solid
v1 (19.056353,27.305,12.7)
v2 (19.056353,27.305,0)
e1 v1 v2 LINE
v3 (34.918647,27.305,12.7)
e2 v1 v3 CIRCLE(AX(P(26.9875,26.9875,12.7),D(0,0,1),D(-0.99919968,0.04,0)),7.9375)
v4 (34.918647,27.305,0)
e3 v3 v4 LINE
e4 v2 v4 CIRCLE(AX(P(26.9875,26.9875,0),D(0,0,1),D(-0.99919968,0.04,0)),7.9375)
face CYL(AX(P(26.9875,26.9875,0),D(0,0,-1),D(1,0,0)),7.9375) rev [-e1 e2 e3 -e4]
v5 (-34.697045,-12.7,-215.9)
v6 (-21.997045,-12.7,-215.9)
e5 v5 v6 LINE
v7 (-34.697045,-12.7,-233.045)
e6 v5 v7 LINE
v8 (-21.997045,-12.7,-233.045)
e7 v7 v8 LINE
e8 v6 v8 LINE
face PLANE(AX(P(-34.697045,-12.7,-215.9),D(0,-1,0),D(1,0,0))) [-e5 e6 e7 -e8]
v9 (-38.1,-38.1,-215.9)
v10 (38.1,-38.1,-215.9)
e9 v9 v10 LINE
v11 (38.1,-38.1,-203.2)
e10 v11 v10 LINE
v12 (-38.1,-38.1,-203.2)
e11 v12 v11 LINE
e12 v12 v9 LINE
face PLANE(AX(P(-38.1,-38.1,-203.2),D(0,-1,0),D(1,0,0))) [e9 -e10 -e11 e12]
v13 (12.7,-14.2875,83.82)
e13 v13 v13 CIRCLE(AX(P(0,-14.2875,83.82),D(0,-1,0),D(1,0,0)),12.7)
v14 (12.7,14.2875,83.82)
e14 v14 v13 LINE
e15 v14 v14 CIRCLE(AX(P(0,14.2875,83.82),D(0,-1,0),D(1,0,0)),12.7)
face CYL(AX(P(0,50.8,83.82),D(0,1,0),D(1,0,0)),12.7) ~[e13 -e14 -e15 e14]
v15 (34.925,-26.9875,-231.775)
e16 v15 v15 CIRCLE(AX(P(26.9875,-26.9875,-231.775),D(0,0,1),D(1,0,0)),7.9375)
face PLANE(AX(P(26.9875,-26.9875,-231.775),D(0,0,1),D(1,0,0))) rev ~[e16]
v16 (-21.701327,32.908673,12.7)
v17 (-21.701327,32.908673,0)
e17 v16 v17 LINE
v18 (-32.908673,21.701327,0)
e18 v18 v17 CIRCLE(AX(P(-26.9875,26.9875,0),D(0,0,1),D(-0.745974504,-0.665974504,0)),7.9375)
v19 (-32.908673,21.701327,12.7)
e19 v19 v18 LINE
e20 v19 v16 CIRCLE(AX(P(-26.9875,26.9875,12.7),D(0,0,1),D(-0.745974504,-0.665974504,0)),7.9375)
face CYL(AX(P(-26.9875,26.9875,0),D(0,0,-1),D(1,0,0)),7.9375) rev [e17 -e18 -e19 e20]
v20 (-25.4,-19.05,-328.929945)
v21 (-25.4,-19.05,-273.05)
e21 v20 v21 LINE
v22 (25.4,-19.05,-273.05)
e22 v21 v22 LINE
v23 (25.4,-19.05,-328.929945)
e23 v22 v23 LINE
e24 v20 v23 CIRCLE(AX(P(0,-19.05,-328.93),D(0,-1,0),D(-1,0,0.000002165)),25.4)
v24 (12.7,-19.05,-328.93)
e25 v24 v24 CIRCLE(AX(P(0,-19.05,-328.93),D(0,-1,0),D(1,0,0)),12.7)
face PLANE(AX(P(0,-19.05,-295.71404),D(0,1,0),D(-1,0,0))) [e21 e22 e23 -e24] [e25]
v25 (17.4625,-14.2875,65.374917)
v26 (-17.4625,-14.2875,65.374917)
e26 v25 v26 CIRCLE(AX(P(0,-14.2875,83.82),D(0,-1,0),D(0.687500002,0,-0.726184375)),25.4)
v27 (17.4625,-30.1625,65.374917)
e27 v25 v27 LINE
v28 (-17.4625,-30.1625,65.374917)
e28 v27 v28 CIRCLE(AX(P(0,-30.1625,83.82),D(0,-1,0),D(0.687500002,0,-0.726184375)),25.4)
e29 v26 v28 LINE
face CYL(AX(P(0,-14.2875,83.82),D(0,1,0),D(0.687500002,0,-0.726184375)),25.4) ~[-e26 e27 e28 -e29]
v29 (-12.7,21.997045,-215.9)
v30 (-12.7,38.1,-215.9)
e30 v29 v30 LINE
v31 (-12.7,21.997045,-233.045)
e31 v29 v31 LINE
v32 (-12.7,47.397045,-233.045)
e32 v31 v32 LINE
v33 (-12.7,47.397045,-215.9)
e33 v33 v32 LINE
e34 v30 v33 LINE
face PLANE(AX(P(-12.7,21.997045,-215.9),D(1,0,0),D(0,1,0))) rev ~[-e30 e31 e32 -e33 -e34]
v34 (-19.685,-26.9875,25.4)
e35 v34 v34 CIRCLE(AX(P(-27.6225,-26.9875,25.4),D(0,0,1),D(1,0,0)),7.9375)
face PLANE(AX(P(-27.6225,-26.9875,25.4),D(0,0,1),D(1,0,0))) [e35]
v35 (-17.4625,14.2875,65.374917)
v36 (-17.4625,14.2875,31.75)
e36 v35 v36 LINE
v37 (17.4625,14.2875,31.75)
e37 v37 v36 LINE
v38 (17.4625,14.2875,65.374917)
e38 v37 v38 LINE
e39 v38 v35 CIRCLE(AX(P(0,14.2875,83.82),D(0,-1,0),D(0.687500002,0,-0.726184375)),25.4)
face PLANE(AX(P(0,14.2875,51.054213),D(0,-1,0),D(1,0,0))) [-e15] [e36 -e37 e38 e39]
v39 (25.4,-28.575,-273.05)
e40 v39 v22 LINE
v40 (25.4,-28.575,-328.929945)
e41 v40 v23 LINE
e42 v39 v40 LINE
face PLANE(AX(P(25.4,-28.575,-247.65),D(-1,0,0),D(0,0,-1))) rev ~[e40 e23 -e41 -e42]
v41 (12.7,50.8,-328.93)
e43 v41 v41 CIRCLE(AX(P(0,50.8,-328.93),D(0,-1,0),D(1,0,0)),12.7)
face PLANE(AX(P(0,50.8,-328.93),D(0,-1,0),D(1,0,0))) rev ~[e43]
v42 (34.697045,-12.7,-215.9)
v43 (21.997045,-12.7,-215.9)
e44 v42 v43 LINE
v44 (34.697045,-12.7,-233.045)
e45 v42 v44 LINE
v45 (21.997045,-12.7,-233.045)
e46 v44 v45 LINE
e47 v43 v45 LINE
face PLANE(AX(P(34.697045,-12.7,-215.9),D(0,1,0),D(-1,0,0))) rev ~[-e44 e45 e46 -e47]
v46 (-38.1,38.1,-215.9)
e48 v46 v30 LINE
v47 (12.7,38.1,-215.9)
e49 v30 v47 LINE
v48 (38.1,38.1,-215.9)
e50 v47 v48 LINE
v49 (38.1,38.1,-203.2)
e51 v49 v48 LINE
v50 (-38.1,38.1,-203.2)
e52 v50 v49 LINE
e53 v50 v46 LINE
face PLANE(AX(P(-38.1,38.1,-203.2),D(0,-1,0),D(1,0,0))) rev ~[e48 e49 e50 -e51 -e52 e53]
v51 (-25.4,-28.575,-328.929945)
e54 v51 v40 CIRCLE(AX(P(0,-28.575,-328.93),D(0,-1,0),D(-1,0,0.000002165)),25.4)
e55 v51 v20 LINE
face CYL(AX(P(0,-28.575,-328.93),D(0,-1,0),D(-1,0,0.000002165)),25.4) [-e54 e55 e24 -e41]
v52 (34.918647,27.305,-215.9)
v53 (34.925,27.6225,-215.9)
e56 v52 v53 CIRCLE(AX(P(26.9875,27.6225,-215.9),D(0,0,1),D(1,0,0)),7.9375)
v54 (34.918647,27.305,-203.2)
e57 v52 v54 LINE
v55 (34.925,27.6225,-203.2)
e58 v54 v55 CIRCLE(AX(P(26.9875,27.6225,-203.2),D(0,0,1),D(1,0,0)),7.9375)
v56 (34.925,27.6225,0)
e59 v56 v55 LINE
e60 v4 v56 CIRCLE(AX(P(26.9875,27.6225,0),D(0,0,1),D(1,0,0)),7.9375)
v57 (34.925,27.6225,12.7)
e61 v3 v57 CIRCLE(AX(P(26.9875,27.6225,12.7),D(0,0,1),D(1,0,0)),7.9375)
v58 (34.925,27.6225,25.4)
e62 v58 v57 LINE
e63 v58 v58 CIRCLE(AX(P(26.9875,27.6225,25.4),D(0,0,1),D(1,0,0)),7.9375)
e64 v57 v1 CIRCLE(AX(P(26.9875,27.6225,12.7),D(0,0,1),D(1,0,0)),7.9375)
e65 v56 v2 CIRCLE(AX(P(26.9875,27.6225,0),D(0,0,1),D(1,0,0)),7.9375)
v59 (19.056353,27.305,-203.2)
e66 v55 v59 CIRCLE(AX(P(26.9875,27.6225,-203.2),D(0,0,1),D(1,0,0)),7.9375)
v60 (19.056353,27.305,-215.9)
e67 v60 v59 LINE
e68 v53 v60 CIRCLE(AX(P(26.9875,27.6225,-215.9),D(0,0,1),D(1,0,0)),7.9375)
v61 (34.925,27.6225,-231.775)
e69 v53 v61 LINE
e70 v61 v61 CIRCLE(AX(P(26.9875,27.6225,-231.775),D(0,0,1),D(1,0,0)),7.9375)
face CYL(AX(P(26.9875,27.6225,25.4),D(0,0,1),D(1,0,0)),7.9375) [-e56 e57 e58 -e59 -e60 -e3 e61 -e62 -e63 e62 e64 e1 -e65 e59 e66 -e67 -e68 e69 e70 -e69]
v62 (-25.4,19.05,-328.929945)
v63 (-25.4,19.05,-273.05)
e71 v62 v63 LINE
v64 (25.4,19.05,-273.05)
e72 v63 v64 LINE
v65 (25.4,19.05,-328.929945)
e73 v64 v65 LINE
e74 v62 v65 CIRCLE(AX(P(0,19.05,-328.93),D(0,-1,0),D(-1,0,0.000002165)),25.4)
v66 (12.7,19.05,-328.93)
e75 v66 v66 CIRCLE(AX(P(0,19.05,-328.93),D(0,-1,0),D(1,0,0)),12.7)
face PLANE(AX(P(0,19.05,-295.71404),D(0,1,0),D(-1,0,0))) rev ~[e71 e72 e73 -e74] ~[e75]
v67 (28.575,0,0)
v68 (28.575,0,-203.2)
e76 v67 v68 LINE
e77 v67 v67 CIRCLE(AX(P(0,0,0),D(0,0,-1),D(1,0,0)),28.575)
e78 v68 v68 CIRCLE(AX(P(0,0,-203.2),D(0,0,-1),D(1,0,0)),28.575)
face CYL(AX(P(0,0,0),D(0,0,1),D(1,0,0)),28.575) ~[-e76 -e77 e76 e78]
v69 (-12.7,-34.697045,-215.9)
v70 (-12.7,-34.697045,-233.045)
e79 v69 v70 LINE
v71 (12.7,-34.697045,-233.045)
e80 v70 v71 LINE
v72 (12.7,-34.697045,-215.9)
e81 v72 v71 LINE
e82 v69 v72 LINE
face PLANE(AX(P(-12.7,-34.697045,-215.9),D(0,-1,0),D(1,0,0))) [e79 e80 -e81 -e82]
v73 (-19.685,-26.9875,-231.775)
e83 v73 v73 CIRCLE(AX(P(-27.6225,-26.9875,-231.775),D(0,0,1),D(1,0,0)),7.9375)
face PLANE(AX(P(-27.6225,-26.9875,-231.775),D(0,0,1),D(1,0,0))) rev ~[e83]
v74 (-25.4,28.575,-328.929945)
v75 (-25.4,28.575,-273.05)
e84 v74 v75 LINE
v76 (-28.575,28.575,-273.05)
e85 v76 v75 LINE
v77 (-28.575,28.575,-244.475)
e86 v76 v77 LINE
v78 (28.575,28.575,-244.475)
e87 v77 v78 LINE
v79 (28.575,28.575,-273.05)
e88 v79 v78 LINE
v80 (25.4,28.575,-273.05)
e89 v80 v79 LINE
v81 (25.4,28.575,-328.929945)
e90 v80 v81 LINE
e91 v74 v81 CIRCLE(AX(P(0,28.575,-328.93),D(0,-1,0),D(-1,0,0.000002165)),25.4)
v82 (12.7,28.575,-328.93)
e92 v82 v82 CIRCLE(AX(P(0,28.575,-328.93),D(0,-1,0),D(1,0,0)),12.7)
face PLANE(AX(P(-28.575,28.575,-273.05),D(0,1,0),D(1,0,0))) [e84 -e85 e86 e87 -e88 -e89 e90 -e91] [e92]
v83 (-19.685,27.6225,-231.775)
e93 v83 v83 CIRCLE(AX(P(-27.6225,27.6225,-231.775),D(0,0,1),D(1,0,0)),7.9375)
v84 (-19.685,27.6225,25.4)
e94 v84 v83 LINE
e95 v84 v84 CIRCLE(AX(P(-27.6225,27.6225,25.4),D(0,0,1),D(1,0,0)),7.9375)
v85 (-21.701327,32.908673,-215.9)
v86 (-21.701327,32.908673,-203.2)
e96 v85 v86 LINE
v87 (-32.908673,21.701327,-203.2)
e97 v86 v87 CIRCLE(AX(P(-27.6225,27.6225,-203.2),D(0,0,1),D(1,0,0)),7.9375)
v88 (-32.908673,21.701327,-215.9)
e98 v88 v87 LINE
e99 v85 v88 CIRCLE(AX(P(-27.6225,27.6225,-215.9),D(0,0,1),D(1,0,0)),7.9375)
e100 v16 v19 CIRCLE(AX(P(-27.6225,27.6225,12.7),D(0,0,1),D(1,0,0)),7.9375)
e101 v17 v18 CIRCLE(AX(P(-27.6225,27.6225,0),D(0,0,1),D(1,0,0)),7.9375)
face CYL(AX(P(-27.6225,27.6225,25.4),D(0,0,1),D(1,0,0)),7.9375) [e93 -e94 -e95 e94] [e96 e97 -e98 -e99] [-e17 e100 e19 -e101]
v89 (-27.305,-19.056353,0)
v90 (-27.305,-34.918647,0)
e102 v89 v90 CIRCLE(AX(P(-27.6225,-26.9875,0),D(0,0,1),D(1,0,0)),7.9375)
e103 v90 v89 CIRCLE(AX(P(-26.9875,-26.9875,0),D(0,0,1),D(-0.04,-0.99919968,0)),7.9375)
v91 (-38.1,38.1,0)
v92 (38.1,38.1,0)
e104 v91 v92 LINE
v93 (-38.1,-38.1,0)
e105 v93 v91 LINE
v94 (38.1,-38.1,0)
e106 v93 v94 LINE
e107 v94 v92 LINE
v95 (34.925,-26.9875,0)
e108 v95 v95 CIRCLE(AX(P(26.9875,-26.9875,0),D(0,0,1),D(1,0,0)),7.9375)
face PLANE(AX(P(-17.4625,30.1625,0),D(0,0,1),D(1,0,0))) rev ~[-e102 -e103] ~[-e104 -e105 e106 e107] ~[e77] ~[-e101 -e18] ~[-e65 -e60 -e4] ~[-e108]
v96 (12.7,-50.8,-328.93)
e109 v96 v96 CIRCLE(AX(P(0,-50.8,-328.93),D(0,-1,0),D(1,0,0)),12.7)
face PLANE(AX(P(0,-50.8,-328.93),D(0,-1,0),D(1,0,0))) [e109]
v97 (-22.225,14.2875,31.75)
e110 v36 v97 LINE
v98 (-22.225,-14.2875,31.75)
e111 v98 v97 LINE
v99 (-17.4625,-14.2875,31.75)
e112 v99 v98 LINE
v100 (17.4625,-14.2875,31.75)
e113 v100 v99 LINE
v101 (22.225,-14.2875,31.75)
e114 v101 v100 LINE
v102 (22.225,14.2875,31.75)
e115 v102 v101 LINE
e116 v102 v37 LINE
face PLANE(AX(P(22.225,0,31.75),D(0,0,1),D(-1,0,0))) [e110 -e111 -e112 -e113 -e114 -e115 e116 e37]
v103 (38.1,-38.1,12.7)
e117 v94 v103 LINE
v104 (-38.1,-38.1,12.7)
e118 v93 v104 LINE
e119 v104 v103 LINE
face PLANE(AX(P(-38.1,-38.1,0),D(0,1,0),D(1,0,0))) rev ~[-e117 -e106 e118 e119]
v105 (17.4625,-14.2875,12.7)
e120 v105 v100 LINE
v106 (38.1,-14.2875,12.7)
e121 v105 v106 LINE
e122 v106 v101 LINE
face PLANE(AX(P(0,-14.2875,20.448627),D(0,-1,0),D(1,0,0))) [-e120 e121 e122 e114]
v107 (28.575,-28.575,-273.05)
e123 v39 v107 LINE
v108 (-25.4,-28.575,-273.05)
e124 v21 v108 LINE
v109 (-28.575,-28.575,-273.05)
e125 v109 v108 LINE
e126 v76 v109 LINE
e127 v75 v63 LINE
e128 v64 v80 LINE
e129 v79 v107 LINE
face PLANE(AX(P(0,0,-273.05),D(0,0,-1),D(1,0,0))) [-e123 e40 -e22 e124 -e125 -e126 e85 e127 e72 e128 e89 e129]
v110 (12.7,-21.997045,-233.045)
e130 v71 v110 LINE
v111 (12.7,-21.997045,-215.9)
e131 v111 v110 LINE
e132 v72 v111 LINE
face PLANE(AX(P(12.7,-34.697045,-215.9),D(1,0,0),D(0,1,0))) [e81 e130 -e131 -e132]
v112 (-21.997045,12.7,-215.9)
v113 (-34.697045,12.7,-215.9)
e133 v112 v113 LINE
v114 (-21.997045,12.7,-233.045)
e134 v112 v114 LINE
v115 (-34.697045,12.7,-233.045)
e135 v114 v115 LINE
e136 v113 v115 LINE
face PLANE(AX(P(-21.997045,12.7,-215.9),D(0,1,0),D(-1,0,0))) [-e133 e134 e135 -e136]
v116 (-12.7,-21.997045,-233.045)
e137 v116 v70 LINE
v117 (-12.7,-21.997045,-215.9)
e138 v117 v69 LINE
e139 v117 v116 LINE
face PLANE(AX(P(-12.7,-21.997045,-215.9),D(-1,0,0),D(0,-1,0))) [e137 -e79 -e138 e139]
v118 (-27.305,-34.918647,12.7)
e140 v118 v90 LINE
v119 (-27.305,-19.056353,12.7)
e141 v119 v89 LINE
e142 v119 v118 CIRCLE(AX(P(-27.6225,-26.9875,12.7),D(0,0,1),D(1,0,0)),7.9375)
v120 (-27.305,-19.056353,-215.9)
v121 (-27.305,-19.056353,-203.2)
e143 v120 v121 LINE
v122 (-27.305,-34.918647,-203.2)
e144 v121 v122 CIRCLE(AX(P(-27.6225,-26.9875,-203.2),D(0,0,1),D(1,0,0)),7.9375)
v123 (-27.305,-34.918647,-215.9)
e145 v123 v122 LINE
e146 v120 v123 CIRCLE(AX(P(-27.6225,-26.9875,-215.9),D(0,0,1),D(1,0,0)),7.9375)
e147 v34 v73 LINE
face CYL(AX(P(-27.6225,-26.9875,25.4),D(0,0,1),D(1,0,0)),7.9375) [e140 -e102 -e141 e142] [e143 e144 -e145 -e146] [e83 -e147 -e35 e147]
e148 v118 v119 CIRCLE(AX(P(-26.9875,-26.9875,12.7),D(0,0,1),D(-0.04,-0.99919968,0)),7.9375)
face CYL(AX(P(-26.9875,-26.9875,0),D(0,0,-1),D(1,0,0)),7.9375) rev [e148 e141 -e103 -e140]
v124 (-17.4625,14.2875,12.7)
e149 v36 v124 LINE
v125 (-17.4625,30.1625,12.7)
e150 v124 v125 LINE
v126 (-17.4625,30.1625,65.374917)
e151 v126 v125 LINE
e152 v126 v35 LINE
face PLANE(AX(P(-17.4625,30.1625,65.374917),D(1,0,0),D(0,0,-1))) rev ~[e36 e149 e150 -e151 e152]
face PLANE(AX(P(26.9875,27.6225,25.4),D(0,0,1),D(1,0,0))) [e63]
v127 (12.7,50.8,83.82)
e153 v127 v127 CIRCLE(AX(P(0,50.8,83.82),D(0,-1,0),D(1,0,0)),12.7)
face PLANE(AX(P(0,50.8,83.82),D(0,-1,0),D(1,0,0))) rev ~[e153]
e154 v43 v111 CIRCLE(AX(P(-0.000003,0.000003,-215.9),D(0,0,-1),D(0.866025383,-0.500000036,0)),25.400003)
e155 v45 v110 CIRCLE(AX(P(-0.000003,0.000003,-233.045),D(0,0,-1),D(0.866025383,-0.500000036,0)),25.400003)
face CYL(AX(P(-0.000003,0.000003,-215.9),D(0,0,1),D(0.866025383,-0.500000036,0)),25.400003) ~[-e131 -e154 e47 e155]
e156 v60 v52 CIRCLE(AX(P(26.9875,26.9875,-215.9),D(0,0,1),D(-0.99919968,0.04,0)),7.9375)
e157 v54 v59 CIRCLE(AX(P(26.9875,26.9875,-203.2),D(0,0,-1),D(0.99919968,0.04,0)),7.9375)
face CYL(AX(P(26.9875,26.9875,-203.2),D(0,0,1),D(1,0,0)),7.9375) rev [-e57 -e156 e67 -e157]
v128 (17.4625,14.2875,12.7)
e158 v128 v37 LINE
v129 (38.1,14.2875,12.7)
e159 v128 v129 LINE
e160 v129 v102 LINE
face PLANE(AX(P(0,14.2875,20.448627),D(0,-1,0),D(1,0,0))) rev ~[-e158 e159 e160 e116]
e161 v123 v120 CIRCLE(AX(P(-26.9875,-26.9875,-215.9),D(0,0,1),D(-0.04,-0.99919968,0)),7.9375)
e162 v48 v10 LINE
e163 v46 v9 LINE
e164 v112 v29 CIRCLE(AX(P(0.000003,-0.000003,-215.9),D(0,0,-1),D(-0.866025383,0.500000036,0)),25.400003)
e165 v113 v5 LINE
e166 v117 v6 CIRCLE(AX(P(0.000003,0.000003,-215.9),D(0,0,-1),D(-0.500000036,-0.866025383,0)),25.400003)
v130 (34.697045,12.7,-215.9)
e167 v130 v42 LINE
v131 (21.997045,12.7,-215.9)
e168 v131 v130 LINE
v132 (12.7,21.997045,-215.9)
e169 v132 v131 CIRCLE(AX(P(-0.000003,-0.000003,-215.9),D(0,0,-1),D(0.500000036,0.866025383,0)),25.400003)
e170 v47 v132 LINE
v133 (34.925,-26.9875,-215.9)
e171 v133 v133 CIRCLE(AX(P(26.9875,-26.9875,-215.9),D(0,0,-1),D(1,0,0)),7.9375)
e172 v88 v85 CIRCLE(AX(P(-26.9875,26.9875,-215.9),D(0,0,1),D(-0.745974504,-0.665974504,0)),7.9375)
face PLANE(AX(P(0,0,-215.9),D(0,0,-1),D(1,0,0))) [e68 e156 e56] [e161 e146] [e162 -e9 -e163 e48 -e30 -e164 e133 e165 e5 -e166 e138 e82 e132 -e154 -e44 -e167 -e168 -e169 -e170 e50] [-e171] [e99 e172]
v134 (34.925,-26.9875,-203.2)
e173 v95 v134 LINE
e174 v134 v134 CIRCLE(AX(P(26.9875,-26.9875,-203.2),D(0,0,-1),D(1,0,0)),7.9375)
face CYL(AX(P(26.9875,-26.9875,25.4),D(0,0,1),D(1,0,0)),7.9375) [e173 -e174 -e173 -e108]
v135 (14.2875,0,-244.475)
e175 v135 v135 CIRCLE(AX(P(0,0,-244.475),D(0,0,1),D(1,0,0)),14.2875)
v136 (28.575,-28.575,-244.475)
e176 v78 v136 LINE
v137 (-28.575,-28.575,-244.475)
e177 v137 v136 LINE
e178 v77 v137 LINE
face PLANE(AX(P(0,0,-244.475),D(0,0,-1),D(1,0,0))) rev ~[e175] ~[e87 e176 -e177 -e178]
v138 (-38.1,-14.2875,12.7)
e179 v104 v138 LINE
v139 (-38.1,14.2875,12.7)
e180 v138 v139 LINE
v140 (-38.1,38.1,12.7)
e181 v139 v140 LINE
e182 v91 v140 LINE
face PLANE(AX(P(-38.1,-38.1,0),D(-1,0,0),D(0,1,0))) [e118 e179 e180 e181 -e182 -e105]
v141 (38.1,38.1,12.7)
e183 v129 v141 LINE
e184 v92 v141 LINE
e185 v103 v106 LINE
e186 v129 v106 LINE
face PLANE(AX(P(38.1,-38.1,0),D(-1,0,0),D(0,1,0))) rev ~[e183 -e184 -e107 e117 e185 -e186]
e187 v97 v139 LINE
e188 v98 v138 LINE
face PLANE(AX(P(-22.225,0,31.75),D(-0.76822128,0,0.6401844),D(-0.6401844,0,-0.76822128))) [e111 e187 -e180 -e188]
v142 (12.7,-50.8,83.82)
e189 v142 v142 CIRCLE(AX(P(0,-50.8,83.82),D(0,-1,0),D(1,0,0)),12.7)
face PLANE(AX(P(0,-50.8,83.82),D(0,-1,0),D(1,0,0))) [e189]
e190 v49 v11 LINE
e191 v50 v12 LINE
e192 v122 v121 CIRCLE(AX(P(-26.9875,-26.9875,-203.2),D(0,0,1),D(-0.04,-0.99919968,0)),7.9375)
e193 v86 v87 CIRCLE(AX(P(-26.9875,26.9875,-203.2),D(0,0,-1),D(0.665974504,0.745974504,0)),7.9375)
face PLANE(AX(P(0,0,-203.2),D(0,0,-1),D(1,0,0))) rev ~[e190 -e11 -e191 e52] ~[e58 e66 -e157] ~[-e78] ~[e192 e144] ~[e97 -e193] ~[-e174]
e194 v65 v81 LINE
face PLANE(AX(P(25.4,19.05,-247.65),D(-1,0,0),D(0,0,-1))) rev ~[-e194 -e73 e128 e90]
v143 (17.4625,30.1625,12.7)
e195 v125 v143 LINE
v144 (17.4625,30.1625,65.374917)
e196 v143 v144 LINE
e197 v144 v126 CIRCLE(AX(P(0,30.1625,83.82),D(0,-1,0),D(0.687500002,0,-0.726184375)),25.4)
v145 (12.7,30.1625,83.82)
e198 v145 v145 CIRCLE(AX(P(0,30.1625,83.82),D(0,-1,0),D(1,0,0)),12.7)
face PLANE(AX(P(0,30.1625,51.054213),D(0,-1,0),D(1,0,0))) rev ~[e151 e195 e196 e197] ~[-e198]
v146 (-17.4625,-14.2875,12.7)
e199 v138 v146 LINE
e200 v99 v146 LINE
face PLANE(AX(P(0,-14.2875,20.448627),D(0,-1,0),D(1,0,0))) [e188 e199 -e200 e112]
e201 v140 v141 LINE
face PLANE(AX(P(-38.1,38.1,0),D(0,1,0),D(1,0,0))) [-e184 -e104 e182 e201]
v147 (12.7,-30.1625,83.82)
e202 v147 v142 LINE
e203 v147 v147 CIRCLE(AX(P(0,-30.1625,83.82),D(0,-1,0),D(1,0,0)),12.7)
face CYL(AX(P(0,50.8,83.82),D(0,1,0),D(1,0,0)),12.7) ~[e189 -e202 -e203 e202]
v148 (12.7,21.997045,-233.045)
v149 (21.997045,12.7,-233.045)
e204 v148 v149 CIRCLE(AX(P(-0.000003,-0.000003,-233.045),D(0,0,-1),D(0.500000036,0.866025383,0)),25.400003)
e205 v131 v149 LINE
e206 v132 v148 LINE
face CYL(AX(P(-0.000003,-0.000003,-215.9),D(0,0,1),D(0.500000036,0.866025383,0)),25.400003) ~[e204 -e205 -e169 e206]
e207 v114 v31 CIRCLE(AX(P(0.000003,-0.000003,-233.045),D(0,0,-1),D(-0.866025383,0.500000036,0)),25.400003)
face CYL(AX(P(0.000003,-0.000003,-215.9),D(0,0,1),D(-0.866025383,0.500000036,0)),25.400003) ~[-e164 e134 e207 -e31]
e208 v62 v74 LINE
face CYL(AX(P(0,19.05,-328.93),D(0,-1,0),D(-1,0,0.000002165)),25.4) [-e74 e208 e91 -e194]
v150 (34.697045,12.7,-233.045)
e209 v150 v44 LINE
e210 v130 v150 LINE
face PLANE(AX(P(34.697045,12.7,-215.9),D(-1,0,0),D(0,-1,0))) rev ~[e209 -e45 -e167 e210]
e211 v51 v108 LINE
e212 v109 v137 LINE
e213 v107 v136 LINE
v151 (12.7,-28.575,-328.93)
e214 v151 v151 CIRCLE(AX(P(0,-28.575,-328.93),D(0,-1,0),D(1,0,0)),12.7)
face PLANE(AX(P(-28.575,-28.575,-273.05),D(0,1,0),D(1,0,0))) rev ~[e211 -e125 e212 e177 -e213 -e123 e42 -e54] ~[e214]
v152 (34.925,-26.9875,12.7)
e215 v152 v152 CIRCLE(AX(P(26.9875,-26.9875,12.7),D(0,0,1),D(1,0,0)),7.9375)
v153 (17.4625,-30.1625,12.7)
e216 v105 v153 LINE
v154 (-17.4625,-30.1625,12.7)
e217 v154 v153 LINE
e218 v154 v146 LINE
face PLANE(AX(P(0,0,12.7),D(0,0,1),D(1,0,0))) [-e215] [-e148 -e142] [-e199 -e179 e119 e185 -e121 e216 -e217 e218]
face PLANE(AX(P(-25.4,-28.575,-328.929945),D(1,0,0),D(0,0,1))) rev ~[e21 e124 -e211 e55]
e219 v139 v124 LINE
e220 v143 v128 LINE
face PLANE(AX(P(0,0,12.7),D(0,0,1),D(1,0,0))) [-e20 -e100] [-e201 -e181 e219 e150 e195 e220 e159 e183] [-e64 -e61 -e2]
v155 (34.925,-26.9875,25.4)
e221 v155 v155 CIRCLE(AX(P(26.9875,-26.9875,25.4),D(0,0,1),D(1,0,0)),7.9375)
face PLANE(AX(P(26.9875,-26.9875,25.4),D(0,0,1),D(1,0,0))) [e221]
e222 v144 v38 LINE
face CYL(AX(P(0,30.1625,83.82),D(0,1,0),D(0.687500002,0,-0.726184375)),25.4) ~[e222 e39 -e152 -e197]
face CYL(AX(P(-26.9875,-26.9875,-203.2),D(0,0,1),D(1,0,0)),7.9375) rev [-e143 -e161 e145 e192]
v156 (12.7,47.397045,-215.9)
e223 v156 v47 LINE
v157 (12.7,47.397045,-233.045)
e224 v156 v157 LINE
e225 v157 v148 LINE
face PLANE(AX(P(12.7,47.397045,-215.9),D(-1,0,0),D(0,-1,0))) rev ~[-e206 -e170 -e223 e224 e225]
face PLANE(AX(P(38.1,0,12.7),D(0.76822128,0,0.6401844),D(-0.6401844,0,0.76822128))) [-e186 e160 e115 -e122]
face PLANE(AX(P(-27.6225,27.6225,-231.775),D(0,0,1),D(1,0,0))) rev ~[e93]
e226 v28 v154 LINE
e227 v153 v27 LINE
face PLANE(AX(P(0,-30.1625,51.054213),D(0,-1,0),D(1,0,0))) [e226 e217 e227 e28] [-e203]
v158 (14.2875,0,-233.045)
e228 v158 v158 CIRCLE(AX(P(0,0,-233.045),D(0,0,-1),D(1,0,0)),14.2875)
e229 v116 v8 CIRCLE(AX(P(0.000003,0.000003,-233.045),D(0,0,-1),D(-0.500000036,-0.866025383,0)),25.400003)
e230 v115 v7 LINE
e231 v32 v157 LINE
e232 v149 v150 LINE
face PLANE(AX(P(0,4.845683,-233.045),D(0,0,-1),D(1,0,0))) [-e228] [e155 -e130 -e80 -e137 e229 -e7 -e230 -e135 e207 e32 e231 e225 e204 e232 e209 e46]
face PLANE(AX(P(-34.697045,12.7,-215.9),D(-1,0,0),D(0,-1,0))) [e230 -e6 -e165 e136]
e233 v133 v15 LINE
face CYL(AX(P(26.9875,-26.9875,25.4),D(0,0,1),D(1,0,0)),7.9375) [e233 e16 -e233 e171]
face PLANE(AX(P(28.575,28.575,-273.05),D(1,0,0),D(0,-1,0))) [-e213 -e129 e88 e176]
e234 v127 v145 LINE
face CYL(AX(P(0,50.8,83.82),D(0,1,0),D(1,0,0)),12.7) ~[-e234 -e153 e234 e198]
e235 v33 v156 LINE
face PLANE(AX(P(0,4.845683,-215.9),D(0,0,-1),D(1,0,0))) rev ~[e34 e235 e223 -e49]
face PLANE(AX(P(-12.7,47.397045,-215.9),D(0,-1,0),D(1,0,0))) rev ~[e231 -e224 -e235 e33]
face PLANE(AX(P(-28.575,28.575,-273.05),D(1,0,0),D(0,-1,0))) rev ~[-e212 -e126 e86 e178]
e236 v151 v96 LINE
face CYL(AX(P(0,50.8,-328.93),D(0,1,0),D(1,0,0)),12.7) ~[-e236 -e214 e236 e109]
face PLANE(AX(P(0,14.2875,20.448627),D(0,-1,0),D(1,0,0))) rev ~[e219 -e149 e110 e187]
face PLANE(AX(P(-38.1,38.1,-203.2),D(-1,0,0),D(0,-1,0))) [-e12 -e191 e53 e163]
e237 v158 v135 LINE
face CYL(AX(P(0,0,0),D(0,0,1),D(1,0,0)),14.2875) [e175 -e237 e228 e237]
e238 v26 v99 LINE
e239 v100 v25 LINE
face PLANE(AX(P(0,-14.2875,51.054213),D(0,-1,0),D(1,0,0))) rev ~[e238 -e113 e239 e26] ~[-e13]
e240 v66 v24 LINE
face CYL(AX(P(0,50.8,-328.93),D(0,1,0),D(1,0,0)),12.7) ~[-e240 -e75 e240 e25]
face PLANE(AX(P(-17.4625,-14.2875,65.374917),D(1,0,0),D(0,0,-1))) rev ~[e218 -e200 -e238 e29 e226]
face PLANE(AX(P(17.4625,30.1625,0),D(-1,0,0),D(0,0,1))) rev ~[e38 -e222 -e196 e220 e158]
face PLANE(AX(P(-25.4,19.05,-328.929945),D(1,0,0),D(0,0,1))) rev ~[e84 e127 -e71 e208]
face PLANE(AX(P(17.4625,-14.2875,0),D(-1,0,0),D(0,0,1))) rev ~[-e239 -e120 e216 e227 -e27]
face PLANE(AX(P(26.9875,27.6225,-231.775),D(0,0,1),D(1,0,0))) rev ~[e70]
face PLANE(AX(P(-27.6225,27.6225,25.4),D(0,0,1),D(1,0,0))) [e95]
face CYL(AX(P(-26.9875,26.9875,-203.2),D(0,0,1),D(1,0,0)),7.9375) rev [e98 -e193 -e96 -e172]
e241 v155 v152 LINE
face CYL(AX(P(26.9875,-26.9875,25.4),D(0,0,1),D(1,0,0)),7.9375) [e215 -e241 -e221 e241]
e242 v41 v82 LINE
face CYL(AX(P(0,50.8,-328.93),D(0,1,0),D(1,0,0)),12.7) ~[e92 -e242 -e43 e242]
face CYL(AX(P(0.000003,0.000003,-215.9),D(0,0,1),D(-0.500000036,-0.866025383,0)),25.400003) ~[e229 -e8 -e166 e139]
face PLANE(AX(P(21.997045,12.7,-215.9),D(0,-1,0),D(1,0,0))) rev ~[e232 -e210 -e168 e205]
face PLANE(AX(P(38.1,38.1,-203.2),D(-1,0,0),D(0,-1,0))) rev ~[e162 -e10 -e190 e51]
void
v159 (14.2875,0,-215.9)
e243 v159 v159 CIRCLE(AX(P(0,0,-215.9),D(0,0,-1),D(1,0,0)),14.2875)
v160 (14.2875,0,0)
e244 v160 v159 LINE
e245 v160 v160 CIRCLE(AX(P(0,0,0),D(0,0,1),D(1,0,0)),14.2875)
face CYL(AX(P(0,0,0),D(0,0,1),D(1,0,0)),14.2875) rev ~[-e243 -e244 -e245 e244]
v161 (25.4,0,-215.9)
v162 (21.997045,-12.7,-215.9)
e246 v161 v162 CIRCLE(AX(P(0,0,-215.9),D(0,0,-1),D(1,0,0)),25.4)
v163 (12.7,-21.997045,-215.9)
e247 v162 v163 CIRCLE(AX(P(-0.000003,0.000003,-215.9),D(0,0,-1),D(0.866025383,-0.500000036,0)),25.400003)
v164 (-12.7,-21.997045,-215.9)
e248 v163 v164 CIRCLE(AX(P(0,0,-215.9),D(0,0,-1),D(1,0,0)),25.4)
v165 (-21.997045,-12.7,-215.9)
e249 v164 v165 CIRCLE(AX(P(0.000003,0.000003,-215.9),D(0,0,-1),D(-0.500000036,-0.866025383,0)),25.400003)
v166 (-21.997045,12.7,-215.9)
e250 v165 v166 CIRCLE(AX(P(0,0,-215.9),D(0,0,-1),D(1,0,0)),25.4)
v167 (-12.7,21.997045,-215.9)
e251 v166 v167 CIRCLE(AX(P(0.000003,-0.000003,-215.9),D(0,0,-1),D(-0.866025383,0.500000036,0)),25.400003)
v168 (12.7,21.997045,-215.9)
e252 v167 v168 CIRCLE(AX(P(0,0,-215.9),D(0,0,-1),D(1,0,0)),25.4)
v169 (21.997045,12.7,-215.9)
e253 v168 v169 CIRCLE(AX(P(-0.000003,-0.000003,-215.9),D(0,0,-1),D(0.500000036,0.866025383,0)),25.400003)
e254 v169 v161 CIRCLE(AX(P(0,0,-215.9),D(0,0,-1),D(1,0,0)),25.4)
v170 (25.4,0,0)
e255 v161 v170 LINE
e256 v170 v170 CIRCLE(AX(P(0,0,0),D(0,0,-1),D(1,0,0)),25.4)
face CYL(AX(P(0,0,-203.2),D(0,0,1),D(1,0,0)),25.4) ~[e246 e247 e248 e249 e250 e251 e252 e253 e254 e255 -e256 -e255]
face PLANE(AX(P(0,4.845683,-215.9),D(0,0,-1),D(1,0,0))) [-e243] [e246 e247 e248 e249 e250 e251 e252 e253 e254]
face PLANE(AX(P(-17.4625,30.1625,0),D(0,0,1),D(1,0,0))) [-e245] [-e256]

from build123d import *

# Parameters (mm, degrees)
SKETCH006_R            = 14.2875
PAD006_DEPTH           = 273.05
SKETCH007_W            = 57.15
SKETCH007_H            = 57.15
PAD007_DEPTH           = 28.575
SKETCH008_R            = 12.7
PAD008_DEPTH           = 9.525
LINEARPATTERN001_COUNT = 2
LINEARPATTERN001_PITCH = 47.625
SKETCH010_R            = 7.9375
PAD010_DEPTH           = 257.175
ARRAY_X_COUNT          = 2
ARRAY_X_PITCH          = 54.61
ARRAY_Y_COUNT          = 2
ARRAY_Y_PITCH          = 54.61
SKETCH_W               = 76.2
SKETCH_H               = 76.2
SKETCH_R               = 7.9375
PAD_DEPTH              = 12.7
PAD001_DEPTH           = 14.2875
SKETCH002_R            = 12.7
PAD002_DEPTH           = 15.875
LINEARPATTERN_COUNT    = 2
LINEARPATTERN_PITCH    = 44.45
SKETCH003_R            = 28.575
SKETCH003_R_2          = 25.4
PAD003_DEPTH           = 203.2
SKETCH004_W            = 76.2
SKETCH004_H            = 76.2
SKETCH004_R            = 7.9375
SKETCH004_R_2          = 25.4
PAD004_DEPTH           = 12.7
SKETCH005_R            = 14.2875
PAD005_DEPTH           = 17.145
CYLINDER_R             = 12.7
CYLINDER_DEPTH         = 101.6
CYLINDER_ROLL_ANGLE    = 90


with BuildPart() as body001:
    # Sketch006 → Pad006 (new body)
    with BuildSketch(Plane.XY):
        Circle(SKETCH006_R)
    extrude(amount=-PAD006_DEPTH)

    # Sketch007 (on Face3 of Pad006) → Pad007 (join)
    with BuildSketch(Plane(origin=(0, 0, -273.05), x_dir=(1, 0, 0), z_dir=(0, 0, -1))):
        Rectangle(SKETCH007_W, SKETCH007_H)
    extrude(amount=-PAD007_DEPTH)

    # Sketch008 (on Face4 of Pad007) → Pad008 (join)
    with BuildSketch(Plane.XZ.offset(28.575)):
        with BuildLine():
            Line((-25.4, -247.65), (25.4, -247.65))
            Line((25.4, -247.65), (25.4, -328.929945))
            ThreePointArc((-25.4, -328.929945), (0, -354.33), (25.4, -328.929945))
            Line((-25.4, -328.929945), (-25.4, -247.65))
        make_face()
        with Locations((0, -328.93)):
            Circle(SKETCH008_R, mode=Mode.SUBTRACT)
    pad008 = extrude(amount=-PAD008_DEPTH)

    # LinearPattern001: Pad008 ×2
    with Locations(*[(0, i * LINEARPATTERN001_PITCH, 0) for i in range(1, LINEARPATTERN001_COUNT)]):
        add(pad008)


with BuildPart() as array:
    # Sketch010 → Pad010 (new body)
    with BuildSketch(Plane.XY):
        with Locations((26.9875, -26.9875)):
            Circle(SKETCH010_R)
    extrude(amount=-PAD010_DEPTH)

    # Array X: Array ×2


with BuildPart() as array_1:
    add(array.part)
    with Locations(*[(-i * ARRAY_X_PITCH, 0, 0) for i in range(1, ARRAY_X_COUNT)]):
        add(array.part)

    # Array Y: Array ×2


with BuildPart() as array_2:
    add(array_1.part)
    with Locations(*[(0, i * ARRAY_Y_PITCH, 0) for i in range(1, ARRAY_Y_COUNT)]):
        add(array_1.part)


with BuildPart() as array_3:
    # Array placement: moved
    add(array_2.part.moved(Location((0, 0, 25.4))))


with BuildPart() as fusion:
    # Sketch → Pad (new body)
    with BuildSketch(Plane.XY):
        Rectangle(SKETCH_W, SKETCH_H)
        with Locations((-26.9875, 26.9875)):
            Circle(SKETCH_R, mode=Mode.SUBTRACT)
        with Locations((26.9875, 26.9875)):
            Circle(SKETCH_R, mode=Mode.SUBTRACT)
        with Locations((-26.9875, -26.9875)):
            Circle(SKETCH_R, mode=Mode.SUBTRACT)
        with Locations((26.9875, -26.9875)):
            Circle(SKETCH_R, mode=Mode.SUBTRACT)
    extrude(amount=PAD_DEPTH)

    # Sketch001 → Pad001 (join, symmetric)
    with BuildSketch(Plane(origin=(0, 0, 12.7), x_dir=(1, 0, 0), z_dir=(0, -1, 0))):
        Polygon((-38.1, 0), (38.1, 0), (22.225, 19.05), (-22.225, 19.05), align=None)
    extrude(amount=PAD001_DEPTH, both=True)

    # Sketch002 (on Face15 of Pad001) → Pad002 (join)
    with BuildSketch(Plane.XZ.offset(14.2875)):
        with BuildLine():
            Line((-17.4625, 0), (17.4625, 0))
            Line((17.4625, 0), (17.4625, 65.374917))
            ThreePointArc((17.4625, 65.374917), (0, 109.22), (-17.4625, 65.374917))
            Line((-17.4625, 65.374917), (-17.4625, 0))
        make_face()
        with Locations((0, 83.82)):
            Circle(SKETCH002_R, mode=Mode.SUBTRACT)
    pad002 = extrude(amount=PAD002_DEPTH)

    # LinearPattern: Pad002 ×2
    with Locations(*[(0, i * LINEARPATTERN_PITCH, 0) for i in range(1, LINEARPATTERN_COUNT)]):
        add(pad002)

    # Sketch003 (on Face4 of LinearPattern) → Pad003 (join)
    with BuildSketch(Plane(origin=(0, 0, 0), x_dir=(1, 0, 0), z_dir=(0, 0, -1))):
        Circle(SKETCH003_R)
        Circle(SKETCH003_R_2, mode=Mode.SUBTRACT)
    extrude(amount=PAD003_DEPTH)

    # Sketch004 (on Face28 of Pad003) → Pad004 (join)
    with BuildSketch(Plane(origin=(0, 0, -203.2), x_dir=(1, 0, 0), z_dir=(0, 0, -1))):
        Rectangle(SKETCH004_W, SKETCH004_H)
        with Locations((-26.9875, 26.9875)):
            Circle(SKETCH004_R, mode=Mode.SUBTRACT)
        with Locations((26.9875, 26.9875)):
            Circle(SKETCH004_R, mode=Mode.SUBTRACT)
        with Locations((-26.9875, -26.9875)):
            Circle(SKETCH004_R, mode=Mode.SUBTRACT)
        with Locations((26.9875, -26.9875)):
            Circle(SKETCH004_R, mode=Mode.SUBTRACT)
        Circle(SKETCH004_R_2, mode=Mode.SUBTRACT)
    extrude(amount=PAD004_DEPTH)

    # Sketch005 (on Face43 of Pad004) → Pad005 (join)
    with BuildSketch(Plane(origin=(0, 0, -215.9), x_dir=(1, 0, 0), z_dir=(0, 0, -1))):
        with BuildLine():
            ThreePointArc((21.997045, 12.7), (17.960512, 17.960512), (12.7, 21.997045))
            Line((12.7, 34.697045), (12.7, 21.997045))
            Line((-12.7, 34.697045), (12.7, 34.697045))
            Line((-12.7, 21.997045), (-12.7, 34.697045))
            ThreePointArc((-12.7, 21.997045), (-17.960512, 17.960512), (-21.997045, 12.7))
            Line((-34.697045, 12.7), (-21.997045, 12.7))
            Line((-34.697045, -12.7), (-34.697045, 12.7))
            Line((-21.997045, -12.7), (-34.697045, -12.7))
            ThreePointArc((-21.997045, -12.7), (-17.960512, -17.960512), (-12.7, -21.997045))
            Line((-12.7, -21.997045), (-12.7, -47.397045))
            Line((-12.7, -47.397045), (12.7, -47.397045))
            Line((12.7, -47.397045), (12.7, -21.997045))
            ThreePointArc((12.7, -21.997045), (17.960512, -17.960512), (21.997045, -12.7))
            Line((21.997045, -12.7), (34.697045, -12.7))
            Line((34.697045, -12.7), (34.697045, 12.7))
            Line((34.697045, 12.7), (21.997045, 12.7))
        make_face()
        Circle(SKETCH005_R, mode=Mode.SUBTRACT)
    extrude(amount=PAD005_DEPTH)

    # Fusion: union Body001, Array
    add(body001.part)
    add(array_3.part)


with BuildPart() as cylinder:
    # Cylinder → Cylinder (new body)
    with BuildSketch(Plane.XY):
        Circle(CYLINDER_R)
    extrude(amount=CYLINDER_DEPTH)


with BuildPart() as cylinder_1:
    # Cylinder roll: moved
    add(cylinder.part.rotate(Axis((0, 0, 0), (1, 0, 0)), CYLINDER_ROLL_ANGLE))


with BuildPart() as cylinder_2:
    # Cylinder placement: moved
    add(cylinder_1.part.moved(Location((0, 50.8, 83.82))))


with BuildPart() as cylinder001:
    # Clone base: copy of Cylinder
    add(cylinder_2.part)


with BuildPart() as cylinder001_1:
    # Clone placement: moved
    add(cylinder001.part.moved(Location((0, 0, -412.75))))


with BuildPart() as fusion001:
    # Fusion001 base: copy of Cylinder
    add(cylinder_2.part)

    # Fusion001: union Fusion, Cylinder001
    add(fusion.part)
    add(cylinder001_1.part)


solid = fusion001.part
